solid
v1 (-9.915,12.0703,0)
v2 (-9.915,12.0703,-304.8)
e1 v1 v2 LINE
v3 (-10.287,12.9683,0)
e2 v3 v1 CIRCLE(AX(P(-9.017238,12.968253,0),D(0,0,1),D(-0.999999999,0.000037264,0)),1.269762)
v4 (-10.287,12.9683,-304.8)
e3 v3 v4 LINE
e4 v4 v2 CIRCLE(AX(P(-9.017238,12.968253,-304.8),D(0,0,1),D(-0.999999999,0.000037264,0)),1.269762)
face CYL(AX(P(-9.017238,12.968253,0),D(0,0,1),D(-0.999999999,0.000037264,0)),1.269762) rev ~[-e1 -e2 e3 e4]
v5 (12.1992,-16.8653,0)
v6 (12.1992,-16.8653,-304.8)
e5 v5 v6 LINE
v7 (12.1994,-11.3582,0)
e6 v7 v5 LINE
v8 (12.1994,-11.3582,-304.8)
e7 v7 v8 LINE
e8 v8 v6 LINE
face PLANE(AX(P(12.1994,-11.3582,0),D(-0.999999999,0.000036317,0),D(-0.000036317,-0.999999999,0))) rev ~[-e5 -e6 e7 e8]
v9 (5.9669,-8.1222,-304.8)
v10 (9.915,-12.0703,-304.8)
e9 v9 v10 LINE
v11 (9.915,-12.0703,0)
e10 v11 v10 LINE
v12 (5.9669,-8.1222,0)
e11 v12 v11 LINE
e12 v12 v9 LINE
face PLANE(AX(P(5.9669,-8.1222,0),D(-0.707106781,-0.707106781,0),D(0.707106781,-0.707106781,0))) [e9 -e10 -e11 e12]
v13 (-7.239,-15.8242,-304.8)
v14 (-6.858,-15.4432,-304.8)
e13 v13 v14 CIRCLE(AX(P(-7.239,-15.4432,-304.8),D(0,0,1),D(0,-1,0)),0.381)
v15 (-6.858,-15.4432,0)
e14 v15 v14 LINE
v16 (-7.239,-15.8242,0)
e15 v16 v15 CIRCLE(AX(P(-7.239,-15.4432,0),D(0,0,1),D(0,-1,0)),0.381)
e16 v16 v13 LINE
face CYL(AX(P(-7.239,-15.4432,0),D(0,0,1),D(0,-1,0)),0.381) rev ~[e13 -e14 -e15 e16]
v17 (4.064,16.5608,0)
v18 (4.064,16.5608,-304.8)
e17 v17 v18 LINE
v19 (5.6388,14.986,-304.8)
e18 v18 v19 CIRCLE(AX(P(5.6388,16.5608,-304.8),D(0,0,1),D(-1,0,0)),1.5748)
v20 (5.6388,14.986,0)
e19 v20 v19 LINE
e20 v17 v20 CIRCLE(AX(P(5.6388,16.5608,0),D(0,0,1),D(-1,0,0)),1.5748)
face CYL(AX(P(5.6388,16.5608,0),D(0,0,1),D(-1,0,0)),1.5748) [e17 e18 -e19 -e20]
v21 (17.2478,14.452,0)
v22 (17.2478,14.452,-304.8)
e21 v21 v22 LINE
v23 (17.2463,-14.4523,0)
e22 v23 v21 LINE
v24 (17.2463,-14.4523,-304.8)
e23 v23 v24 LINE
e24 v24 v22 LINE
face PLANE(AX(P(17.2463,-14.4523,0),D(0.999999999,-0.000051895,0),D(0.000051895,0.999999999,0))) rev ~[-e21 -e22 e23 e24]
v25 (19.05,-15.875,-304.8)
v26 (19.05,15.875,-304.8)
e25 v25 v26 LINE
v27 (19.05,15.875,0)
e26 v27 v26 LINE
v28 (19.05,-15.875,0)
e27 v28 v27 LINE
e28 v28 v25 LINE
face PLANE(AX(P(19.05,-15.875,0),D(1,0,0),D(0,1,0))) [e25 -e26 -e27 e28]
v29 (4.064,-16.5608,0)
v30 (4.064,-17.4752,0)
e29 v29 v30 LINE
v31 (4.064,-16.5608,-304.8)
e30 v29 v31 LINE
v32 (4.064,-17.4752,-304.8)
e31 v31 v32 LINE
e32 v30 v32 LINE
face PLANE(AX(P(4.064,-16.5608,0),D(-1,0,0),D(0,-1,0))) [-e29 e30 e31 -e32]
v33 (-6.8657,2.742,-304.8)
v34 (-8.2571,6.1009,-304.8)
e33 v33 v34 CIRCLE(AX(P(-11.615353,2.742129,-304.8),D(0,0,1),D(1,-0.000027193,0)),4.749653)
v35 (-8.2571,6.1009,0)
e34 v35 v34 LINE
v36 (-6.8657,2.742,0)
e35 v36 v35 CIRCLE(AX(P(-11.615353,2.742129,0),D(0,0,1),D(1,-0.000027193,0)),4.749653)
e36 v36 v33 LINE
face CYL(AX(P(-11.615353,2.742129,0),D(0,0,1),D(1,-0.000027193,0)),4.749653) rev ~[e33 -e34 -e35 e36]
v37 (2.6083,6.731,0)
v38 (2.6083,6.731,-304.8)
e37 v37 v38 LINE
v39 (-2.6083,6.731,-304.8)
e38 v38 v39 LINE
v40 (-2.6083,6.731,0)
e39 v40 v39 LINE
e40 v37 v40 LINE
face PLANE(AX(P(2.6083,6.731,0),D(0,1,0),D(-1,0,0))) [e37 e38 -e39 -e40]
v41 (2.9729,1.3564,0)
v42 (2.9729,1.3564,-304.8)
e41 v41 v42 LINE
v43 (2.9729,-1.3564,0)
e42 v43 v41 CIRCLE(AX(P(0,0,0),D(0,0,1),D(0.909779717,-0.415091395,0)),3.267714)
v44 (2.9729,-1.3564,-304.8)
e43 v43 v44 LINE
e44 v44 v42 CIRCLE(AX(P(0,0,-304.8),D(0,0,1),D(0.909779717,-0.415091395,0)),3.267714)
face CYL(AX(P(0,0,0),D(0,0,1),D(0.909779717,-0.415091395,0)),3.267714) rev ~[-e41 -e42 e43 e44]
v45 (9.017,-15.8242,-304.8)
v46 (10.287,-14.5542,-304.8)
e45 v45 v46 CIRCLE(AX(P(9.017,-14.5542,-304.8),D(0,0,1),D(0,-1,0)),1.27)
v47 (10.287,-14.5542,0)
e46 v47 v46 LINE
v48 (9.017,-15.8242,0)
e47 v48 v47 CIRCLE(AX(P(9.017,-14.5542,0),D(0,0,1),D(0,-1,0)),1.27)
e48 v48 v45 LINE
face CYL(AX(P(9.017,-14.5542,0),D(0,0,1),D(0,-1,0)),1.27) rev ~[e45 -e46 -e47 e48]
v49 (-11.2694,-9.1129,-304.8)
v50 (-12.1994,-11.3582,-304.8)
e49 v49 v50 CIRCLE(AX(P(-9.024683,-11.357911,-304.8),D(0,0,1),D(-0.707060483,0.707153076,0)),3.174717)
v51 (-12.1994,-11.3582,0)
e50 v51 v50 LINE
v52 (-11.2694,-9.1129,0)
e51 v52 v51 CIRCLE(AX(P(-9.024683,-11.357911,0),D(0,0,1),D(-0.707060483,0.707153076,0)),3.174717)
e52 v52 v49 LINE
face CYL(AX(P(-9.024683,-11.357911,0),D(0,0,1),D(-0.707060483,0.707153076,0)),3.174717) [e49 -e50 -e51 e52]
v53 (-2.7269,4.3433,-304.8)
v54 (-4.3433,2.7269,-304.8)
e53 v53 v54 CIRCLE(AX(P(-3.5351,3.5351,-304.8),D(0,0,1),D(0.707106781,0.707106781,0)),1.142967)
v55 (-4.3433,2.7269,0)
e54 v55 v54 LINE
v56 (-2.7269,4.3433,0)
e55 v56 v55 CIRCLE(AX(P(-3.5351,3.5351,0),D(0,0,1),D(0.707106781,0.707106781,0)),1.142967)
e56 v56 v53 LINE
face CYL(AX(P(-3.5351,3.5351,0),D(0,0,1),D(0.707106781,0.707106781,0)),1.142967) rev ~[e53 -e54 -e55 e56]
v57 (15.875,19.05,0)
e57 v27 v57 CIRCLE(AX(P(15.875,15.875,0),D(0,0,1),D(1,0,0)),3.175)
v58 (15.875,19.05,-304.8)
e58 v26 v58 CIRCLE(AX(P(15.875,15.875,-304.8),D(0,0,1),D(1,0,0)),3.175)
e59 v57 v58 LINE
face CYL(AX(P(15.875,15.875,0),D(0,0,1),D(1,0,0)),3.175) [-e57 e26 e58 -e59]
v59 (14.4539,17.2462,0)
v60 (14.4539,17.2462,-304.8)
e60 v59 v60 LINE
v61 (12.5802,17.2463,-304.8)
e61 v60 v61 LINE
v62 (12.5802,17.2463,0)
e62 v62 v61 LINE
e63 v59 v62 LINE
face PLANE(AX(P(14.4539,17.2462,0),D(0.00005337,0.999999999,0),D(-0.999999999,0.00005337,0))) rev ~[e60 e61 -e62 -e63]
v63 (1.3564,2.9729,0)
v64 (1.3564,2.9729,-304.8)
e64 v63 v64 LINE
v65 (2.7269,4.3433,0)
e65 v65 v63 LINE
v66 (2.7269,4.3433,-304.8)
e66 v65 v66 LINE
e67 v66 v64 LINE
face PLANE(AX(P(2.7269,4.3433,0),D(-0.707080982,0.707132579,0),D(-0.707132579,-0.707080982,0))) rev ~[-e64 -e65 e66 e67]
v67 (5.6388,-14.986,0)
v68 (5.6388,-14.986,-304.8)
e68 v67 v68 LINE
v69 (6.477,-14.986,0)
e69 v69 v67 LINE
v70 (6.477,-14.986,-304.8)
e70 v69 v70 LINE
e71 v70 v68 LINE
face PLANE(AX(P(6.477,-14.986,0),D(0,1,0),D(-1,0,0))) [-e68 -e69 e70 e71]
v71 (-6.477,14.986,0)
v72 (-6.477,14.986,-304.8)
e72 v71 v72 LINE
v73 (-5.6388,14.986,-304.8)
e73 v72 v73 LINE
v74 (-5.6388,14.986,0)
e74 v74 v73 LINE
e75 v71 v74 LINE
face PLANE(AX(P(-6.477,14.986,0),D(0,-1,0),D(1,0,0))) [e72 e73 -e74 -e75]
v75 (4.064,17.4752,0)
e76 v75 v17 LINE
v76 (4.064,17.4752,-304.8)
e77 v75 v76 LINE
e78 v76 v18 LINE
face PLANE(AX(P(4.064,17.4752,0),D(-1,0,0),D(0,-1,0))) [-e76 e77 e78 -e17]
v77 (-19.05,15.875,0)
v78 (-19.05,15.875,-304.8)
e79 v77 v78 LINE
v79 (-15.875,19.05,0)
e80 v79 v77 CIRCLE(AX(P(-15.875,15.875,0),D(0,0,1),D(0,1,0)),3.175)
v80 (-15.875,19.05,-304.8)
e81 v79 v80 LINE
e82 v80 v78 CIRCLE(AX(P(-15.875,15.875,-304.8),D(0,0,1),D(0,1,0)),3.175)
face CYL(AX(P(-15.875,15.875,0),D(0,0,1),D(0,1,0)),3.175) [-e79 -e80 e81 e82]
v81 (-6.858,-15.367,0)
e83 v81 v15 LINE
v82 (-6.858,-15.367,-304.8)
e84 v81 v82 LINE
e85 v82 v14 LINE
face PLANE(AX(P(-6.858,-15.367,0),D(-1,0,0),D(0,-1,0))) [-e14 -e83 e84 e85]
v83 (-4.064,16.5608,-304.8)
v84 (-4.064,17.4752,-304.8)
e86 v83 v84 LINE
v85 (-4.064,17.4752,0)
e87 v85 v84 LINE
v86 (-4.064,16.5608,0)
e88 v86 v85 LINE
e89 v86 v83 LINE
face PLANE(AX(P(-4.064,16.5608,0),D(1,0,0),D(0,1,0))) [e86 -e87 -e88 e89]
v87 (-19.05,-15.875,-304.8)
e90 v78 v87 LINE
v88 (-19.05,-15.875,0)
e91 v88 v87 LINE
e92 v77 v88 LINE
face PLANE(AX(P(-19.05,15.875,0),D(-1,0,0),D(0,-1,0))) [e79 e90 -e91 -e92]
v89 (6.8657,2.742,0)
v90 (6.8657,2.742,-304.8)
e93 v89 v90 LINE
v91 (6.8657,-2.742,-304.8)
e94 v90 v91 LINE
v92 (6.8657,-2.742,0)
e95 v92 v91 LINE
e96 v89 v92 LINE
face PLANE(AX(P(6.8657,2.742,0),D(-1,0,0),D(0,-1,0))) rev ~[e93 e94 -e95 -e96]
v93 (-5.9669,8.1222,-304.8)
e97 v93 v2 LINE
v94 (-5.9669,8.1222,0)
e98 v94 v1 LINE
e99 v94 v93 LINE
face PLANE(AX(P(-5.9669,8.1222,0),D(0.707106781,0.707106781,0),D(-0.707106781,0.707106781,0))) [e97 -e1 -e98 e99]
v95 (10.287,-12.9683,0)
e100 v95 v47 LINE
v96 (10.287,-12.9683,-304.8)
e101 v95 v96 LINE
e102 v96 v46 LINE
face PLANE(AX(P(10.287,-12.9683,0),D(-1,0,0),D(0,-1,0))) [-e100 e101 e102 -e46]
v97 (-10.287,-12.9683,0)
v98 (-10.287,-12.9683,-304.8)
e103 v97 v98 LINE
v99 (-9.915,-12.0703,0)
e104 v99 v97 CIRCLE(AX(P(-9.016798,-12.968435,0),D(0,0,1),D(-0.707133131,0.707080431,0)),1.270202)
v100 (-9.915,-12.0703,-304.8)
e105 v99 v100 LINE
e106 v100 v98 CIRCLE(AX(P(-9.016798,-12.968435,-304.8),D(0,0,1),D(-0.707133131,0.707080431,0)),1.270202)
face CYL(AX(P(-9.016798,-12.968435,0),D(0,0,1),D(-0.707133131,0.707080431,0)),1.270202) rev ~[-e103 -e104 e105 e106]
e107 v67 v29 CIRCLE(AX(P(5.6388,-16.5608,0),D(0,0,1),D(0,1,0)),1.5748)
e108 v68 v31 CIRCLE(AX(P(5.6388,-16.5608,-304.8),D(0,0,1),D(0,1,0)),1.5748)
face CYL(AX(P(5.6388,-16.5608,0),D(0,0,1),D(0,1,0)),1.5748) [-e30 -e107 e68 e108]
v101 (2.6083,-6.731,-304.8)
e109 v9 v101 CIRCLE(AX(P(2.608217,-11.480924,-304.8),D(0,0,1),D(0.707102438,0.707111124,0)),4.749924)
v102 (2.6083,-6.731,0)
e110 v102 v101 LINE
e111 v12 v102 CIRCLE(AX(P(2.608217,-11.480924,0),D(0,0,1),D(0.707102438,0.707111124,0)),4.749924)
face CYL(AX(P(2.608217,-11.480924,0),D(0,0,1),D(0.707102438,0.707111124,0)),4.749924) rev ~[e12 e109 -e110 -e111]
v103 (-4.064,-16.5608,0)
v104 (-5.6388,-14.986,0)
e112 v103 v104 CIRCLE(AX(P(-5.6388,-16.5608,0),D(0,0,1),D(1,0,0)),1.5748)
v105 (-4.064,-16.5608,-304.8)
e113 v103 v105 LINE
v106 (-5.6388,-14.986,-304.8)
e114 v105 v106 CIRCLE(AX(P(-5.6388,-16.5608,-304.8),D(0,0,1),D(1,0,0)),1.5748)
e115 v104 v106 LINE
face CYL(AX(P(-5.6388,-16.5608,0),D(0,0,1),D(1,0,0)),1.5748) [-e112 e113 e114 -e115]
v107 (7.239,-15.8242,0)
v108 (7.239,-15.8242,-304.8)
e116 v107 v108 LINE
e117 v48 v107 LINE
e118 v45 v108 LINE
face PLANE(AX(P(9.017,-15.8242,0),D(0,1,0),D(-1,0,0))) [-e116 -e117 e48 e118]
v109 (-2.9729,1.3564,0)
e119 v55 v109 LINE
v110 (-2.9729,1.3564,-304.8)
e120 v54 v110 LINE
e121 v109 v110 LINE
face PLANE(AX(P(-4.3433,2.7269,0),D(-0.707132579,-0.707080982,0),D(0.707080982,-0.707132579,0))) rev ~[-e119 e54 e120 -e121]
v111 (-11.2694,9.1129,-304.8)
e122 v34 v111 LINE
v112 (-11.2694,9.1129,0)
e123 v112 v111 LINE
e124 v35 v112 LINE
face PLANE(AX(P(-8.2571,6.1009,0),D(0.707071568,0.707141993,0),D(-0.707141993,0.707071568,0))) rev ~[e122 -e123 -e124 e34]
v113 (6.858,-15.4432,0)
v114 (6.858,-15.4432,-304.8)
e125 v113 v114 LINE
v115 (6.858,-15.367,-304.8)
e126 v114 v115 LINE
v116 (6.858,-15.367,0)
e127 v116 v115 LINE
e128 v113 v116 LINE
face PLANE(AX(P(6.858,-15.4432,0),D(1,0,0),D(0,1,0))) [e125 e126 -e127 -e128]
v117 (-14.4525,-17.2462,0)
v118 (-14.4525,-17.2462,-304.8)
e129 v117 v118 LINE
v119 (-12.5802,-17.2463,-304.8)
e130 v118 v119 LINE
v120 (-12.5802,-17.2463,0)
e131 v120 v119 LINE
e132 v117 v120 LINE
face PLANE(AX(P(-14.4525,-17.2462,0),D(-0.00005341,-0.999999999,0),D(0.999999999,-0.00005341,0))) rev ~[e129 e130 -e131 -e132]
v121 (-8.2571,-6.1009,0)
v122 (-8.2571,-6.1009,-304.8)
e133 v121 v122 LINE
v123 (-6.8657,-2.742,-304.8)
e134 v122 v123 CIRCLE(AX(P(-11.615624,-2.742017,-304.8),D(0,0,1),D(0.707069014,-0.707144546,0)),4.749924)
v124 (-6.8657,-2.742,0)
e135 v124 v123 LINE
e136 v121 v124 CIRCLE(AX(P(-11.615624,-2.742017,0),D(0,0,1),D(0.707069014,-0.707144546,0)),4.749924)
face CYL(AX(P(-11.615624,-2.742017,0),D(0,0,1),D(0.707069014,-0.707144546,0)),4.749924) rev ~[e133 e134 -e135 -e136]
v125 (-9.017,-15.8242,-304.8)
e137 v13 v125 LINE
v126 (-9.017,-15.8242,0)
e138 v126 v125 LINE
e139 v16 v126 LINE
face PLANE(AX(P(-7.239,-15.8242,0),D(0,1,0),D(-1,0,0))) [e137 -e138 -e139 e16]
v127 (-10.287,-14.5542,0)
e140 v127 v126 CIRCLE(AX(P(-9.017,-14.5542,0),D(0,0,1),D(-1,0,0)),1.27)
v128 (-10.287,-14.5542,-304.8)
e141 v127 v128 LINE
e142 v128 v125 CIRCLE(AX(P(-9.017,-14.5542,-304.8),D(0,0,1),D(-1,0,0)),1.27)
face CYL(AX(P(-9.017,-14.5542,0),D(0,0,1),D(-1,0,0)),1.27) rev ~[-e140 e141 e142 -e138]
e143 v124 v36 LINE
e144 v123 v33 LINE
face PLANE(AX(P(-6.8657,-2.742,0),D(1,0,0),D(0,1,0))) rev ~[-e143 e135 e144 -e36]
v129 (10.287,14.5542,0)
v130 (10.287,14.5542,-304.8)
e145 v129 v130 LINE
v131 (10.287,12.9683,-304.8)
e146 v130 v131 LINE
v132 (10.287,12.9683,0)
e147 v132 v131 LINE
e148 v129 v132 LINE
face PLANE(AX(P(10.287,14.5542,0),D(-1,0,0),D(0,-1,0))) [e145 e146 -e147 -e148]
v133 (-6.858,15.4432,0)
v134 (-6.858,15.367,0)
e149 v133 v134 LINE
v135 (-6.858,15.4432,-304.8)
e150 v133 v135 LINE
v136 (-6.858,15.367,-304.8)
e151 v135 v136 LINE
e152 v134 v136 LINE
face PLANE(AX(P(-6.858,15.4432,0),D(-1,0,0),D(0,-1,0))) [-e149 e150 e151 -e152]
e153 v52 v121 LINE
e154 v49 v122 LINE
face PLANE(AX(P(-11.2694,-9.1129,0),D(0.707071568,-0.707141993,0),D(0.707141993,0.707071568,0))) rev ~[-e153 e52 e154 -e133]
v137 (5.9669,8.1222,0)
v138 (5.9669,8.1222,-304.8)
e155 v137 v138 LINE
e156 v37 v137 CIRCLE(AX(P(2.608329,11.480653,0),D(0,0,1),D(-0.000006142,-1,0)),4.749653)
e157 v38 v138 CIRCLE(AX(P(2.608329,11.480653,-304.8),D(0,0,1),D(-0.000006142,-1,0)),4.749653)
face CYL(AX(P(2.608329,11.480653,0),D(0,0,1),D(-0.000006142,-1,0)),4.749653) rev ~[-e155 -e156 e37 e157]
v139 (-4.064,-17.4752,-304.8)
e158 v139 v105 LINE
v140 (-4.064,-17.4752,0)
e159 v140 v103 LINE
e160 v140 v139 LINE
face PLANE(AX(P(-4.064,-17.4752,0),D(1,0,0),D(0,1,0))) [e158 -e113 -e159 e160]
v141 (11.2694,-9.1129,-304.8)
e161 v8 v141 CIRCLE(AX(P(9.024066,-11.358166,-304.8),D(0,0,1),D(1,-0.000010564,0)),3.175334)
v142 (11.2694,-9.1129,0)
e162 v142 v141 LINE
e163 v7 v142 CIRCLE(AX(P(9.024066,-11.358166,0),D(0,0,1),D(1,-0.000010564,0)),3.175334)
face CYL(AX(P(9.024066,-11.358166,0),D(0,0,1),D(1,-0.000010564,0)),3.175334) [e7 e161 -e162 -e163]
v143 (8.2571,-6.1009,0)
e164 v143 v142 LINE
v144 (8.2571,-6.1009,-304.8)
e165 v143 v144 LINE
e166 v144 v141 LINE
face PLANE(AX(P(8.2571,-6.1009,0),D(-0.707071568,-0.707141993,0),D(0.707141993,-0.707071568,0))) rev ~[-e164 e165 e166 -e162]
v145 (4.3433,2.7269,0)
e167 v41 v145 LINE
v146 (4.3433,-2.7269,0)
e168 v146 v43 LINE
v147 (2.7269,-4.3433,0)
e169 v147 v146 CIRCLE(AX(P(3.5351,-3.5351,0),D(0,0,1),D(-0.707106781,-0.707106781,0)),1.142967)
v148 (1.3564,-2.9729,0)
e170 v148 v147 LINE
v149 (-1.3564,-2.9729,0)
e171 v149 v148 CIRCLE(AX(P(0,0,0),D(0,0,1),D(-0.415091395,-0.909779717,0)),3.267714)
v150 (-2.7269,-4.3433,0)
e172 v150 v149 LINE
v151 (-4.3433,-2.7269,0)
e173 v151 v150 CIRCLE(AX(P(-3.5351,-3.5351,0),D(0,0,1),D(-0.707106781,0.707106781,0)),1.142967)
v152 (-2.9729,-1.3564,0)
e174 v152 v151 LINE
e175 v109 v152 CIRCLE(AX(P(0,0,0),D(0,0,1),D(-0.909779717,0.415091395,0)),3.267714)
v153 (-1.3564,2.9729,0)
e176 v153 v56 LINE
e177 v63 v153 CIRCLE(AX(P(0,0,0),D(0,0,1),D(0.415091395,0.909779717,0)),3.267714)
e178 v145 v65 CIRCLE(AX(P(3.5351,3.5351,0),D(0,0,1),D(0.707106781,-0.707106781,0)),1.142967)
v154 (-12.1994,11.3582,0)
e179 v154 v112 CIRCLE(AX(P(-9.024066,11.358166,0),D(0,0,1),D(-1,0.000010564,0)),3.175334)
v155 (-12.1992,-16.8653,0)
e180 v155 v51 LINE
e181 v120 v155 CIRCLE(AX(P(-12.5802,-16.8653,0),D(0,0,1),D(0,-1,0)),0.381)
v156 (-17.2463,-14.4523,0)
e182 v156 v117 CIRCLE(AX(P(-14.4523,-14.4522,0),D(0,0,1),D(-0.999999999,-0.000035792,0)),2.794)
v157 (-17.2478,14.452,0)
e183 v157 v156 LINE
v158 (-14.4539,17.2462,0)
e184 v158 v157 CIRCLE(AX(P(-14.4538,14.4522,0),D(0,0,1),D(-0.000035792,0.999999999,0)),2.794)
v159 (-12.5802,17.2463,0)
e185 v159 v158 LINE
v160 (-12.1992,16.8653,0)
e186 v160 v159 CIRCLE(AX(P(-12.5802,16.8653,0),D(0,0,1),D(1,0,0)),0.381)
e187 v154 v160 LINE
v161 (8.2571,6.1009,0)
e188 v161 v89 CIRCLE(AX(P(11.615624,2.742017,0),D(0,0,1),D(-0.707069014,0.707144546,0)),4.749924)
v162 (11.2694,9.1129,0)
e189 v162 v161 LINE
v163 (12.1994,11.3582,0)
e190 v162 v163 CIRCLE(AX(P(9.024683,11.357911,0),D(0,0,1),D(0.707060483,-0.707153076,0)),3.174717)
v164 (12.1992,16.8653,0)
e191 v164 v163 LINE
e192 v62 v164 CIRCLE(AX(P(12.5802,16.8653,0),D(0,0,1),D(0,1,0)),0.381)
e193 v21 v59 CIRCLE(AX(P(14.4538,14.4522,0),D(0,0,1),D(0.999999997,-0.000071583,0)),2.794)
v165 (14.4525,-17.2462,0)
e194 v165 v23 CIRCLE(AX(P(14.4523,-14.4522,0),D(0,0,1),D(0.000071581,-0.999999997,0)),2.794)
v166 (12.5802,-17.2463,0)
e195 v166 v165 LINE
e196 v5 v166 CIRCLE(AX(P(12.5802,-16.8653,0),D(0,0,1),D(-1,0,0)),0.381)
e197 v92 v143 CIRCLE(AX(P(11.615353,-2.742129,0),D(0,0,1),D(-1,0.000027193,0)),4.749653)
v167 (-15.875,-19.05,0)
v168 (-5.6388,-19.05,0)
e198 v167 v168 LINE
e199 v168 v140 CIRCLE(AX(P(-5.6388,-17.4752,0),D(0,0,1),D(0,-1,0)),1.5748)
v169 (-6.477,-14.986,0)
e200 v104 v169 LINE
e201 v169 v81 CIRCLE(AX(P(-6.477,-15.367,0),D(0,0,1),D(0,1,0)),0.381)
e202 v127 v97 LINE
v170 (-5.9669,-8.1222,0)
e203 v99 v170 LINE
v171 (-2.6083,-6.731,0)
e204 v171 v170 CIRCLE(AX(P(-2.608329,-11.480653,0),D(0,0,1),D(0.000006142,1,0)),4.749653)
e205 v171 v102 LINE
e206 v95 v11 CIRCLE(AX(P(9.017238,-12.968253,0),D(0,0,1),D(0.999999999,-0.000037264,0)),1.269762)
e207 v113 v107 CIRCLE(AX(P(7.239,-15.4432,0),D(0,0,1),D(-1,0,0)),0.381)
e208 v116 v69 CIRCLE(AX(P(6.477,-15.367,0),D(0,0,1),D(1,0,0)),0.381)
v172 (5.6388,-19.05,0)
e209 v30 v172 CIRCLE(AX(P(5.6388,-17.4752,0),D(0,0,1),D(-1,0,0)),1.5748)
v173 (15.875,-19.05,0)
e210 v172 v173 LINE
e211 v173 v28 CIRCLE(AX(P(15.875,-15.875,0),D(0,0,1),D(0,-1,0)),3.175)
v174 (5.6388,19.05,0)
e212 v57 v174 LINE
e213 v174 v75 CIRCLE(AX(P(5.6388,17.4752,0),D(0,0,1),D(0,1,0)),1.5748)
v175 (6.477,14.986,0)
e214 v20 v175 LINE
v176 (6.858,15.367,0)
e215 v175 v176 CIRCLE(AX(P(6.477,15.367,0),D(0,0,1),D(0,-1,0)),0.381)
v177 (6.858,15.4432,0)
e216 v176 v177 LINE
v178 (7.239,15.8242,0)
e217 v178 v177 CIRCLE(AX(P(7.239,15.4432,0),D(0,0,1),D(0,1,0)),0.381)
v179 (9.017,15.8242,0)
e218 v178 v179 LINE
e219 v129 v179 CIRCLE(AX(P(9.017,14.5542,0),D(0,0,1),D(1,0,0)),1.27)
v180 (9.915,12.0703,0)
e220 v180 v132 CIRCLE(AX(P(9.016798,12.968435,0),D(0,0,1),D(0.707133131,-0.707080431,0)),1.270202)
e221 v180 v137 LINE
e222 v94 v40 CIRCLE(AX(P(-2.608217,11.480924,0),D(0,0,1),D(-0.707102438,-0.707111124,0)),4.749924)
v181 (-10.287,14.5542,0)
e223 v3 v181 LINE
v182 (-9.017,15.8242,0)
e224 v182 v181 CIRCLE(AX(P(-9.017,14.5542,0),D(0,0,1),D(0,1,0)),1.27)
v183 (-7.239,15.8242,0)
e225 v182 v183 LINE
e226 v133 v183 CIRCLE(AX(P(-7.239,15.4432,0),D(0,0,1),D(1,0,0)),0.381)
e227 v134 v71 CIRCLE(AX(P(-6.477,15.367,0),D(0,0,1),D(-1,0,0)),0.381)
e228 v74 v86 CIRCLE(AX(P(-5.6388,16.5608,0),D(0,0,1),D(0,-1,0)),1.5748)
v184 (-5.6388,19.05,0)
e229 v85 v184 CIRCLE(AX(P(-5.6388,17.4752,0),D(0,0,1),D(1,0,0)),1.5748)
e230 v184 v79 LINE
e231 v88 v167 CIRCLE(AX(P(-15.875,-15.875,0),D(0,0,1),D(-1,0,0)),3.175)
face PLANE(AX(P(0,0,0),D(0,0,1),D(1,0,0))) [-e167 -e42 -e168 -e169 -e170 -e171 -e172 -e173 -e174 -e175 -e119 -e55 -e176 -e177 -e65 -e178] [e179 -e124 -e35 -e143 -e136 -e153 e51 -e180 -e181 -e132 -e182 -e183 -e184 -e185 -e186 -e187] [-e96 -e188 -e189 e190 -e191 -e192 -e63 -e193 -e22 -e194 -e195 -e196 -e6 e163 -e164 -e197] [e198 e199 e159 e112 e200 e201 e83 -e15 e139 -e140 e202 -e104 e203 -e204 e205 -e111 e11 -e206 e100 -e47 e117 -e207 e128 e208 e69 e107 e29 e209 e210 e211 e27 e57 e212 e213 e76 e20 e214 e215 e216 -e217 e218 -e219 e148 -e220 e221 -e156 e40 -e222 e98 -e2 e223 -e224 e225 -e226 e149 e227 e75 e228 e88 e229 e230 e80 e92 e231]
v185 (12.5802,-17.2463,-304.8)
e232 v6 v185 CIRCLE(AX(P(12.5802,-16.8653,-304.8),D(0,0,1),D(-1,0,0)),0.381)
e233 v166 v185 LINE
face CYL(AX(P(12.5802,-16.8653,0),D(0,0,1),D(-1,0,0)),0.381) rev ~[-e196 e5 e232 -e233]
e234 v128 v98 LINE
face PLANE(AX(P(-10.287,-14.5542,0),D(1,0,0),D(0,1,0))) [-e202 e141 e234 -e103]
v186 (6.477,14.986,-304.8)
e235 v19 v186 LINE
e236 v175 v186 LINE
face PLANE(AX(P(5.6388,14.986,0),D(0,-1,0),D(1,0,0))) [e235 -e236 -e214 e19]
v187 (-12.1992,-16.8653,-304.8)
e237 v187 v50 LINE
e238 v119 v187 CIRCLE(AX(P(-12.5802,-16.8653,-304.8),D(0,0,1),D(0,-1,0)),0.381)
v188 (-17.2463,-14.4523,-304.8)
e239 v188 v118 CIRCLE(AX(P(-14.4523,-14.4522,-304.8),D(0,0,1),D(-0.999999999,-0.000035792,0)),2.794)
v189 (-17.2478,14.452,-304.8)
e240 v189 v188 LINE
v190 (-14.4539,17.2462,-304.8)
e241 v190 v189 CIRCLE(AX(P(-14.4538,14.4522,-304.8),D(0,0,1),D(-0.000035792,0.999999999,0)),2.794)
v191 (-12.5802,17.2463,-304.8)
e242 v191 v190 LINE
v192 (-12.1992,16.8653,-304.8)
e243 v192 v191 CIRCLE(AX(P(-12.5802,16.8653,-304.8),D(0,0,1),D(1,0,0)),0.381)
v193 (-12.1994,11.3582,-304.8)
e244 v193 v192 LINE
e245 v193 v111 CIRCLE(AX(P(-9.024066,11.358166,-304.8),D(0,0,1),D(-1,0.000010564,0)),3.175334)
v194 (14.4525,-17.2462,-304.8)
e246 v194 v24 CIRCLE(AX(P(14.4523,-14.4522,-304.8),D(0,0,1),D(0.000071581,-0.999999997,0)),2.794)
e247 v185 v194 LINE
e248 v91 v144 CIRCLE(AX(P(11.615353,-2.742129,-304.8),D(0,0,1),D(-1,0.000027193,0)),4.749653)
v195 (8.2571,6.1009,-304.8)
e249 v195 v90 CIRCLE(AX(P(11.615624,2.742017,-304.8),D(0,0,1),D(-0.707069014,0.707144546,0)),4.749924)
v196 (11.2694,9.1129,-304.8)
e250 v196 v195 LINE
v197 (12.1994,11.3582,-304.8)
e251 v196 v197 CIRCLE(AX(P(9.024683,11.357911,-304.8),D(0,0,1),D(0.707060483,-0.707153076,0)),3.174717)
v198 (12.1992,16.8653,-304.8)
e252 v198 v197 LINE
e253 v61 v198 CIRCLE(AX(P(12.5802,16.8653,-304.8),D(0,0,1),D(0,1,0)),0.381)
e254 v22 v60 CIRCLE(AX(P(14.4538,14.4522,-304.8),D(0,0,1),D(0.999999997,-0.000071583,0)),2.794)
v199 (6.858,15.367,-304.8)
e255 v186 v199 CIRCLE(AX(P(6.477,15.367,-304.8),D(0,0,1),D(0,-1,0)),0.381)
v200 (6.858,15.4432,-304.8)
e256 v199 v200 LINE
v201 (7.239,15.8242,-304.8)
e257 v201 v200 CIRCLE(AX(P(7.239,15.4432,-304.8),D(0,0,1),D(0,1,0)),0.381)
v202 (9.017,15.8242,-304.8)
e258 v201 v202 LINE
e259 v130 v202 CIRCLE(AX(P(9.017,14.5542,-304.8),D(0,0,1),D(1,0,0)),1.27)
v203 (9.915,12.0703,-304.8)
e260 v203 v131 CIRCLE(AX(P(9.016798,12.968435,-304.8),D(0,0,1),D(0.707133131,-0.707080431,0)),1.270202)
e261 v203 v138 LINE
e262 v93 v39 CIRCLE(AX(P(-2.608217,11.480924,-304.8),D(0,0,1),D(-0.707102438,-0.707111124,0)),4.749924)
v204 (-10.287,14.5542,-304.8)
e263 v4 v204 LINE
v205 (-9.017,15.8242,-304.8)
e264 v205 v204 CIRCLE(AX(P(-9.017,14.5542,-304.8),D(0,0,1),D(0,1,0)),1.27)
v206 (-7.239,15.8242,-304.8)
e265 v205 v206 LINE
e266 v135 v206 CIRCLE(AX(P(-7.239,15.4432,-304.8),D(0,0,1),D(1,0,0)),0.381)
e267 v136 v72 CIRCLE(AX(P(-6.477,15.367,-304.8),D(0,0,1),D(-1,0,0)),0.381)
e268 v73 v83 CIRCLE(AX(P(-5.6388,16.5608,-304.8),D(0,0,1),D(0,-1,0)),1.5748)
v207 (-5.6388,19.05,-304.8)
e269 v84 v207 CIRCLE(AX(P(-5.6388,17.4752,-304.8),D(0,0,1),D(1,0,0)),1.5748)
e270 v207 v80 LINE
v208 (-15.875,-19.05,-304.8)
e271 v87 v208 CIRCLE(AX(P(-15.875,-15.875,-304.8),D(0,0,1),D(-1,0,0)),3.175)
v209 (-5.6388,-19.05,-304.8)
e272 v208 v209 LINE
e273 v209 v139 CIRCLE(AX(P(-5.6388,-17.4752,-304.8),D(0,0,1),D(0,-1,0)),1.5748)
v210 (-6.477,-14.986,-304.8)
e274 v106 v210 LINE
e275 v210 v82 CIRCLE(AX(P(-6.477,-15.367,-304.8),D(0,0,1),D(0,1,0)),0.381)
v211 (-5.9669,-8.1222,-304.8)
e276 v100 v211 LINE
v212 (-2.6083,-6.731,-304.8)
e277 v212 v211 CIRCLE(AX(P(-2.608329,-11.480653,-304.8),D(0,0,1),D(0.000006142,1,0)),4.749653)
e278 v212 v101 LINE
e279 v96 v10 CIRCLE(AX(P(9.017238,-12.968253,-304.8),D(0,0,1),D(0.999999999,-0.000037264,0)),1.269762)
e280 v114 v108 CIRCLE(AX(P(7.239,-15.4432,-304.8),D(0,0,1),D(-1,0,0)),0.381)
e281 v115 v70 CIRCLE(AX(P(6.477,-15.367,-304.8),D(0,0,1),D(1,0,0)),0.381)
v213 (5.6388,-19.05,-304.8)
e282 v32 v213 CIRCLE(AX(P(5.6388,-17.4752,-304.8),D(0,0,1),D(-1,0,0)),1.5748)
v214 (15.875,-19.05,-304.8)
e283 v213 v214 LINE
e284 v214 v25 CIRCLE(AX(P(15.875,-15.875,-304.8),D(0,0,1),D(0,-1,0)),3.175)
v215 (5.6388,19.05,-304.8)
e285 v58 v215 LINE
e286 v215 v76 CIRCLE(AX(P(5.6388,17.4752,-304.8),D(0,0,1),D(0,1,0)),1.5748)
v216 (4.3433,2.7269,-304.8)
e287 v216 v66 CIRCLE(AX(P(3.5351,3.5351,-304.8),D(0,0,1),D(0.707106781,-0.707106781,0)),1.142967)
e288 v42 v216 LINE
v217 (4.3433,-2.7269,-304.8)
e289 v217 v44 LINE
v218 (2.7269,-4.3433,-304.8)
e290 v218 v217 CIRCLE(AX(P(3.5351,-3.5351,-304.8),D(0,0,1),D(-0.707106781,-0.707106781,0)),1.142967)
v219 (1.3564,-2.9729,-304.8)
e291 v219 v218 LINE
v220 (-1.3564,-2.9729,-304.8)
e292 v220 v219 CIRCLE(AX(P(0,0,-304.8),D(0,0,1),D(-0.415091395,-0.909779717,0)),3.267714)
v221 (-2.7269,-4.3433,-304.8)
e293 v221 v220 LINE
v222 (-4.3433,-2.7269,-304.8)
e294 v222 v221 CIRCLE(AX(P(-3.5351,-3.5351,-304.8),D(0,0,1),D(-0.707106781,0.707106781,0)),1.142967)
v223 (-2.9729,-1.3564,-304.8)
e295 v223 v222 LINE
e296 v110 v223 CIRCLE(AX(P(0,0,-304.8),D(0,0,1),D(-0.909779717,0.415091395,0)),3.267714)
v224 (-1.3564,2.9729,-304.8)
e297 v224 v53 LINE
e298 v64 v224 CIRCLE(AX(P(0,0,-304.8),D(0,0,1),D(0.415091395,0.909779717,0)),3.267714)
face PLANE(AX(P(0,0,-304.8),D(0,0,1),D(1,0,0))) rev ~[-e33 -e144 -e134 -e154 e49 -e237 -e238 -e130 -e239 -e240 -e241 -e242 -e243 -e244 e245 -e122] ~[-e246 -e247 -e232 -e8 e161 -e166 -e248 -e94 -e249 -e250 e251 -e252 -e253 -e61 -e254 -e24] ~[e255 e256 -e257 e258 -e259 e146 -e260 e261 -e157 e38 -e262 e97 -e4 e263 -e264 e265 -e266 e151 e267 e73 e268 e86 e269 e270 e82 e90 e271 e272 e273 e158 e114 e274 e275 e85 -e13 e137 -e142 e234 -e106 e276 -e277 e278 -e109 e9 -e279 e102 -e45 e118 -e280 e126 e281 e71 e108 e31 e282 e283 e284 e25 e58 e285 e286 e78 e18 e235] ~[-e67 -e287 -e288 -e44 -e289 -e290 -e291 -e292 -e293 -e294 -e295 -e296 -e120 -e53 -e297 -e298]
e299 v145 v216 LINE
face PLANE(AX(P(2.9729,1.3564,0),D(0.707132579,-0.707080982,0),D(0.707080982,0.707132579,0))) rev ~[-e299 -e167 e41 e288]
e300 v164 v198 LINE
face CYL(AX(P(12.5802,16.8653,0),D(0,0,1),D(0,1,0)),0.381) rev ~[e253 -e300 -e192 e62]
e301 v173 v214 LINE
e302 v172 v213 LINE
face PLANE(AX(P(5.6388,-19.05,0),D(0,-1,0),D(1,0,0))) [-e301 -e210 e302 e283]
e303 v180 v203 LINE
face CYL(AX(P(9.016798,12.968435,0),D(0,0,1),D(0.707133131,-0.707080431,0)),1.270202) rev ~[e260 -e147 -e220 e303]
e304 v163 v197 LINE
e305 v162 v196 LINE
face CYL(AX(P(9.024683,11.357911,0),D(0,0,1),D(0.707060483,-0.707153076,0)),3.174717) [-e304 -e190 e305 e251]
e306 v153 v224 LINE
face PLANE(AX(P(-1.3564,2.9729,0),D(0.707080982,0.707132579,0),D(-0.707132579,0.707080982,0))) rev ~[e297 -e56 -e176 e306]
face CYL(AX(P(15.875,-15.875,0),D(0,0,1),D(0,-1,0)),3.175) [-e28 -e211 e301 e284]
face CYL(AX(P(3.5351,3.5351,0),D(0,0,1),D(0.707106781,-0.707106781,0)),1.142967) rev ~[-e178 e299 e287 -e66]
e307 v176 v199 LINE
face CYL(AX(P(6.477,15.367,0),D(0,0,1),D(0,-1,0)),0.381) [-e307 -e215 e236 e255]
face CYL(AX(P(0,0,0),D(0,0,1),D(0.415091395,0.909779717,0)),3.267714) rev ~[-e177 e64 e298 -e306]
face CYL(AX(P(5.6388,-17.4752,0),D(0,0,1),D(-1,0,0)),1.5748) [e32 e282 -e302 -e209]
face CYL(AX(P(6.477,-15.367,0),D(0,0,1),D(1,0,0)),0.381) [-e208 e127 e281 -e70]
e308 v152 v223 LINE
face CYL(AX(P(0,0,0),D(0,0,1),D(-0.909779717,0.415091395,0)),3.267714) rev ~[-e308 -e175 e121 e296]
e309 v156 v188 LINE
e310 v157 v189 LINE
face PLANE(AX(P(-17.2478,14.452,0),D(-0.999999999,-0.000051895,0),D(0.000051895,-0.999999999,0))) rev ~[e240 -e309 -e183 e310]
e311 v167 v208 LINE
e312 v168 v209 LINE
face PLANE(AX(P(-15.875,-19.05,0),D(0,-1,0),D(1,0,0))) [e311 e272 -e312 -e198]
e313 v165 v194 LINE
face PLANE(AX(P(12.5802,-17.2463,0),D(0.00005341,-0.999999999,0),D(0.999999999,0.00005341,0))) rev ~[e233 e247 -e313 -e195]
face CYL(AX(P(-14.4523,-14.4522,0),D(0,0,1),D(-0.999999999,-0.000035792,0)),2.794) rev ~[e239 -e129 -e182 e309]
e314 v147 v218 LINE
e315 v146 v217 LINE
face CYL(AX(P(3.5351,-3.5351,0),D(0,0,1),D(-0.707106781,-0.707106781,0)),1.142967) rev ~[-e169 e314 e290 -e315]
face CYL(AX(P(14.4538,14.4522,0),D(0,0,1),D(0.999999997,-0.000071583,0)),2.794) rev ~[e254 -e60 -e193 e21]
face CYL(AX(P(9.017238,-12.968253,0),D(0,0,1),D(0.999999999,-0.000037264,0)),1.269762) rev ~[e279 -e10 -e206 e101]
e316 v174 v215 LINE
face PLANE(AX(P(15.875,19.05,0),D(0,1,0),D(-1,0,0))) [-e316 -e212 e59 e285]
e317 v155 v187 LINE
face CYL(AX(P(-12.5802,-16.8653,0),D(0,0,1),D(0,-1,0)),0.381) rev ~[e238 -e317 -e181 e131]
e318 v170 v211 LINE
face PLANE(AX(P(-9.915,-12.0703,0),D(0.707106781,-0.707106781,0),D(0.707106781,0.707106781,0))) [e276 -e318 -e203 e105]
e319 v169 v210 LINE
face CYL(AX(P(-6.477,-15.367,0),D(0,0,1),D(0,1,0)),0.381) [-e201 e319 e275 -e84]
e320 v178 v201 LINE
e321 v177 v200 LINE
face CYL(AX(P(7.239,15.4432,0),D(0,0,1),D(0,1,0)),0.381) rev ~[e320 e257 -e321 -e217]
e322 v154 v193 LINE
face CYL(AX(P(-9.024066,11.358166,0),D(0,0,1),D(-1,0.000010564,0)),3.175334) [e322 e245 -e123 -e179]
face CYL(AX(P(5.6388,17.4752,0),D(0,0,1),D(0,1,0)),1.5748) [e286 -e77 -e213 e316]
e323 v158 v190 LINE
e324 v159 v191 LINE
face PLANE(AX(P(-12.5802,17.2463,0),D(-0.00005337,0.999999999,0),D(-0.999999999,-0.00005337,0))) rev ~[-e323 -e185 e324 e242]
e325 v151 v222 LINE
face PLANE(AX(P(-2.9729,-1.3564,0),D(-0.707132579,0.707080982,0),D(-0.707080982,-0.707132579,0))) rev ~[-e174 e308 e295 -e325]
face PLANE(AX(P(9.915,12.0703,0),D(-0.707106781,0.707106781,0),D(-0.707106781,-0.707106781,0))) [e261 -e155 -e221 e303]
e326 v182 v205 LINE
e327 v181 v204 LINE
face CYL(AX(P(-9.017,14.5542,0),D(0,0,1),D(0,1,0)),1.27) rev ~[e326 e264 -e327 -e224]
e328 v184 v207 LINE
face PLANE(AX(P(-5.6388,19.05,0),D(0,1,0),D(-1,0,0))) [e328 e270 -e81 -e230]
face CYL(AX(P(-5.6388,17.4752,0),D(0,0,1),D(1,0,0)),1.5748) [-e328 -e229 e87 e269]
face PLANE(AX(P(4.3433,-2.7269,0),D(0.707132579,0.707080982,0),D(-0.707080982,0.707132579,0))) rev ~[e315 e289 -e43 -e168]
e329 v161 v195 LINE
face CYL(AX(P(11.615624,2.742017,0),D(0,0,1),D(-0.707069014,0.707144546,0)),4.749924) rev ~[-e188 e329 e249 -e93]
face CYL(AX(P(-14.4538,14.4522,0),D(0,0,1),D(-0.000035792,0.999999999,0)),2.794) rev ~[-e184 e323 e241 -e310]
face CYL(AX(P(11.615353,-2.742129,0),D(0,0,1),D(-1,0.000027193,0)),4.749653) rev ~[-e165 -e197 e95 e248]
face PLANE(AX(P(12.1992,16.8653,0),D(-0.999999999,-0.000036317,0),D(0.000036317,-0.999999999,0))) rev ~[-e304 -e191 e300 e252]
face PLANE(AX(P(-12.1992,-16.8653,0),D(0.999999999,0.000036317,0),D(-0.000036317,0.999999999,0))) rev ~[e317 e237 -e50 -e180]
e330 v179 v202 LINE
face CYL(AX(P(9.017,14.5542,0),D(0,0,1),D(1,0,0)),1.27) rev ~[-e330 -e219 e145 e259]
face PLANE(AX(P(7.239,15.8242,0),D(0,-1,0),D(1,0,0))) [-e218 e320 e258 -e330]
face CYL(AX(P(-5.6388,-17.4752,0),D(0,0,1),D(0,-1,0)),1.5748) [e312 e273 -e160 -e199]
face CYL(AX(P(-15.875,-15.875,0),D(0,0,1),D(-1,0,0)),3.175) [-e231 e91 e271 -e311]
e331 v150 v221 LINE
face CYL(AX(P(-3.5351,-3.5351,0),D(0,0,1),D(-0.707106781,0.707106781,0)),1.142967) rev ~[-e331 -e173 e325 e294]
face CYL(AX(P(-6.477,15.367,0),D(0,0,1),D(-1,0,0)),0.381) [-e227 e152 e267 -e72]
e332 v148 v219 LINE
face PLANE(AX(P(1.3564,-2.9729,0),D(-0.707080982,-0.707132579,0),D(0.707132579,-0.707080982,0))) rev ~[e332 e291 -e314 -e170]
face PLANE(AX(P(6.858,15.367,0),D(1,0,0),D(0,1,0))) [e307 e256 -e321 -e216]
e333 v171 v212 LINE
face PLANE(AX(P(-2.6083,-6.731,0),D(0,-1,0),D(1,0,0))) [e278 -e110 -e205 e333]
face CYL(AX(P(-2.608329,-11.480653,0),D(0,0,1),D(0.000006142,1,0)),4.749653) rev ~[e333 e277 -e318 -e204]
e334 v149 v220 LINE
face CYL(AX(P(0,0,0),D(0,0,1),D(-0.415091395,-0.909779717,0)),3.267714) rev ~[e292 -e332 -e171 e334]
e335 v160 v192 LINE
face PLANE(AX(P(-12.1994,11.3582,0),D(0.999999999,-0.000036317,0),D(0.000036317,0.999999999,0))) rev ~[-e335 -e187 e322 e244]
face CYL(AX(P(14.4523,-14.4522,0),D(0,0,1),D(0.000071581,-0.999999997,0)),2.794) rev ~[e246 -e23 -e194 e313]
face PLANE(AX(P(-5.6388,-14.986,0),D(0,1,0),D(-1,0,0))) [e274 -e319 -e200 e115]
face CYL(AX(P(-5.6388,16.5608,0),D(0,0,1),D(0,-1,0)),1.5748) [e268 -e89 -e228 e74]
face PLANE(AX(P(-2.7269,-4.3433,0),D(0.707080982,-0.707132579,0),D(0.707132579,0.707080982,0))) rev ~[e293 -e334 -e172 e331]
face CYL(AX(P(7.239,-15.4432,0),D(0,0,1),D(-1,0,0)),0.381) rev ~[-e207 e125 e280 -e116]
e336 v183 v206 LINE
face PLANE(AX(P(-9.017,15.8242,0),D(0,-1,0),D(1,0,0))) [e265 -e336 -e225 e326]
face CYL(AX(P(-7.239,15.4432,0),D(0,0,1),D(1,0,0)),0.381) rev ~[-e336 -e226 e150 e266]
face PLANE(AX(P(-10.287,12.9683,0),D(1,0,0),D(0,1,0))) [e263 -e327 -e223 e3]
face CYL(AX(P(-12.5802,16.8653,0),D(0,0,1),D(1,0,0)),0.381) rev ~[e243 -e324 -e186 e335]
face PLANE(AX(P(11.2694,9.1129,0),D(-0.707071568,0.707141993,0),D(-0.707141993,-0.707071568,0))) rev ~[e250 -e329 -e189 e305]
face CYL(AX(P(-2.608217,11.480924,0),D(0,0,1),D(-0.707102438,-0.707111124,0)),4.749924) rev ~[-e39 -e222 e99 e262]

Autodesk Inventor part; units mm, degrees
ref_plane "YZ Plane" through (0, 0, 0) normal (1, 0, 0) x (0, 1, 0)
ref_plane "XZ Plane" through (0, 0, 0) normal (0, 1, 0) x (-1, 0, 0)
ref_plane "XY Plane" through (0, 0, 0) normal (0, 0, 1) x (1, 0, 0)
sketch "Sketch1" plane through (0, 0, 0) normal (0, 0, 1) x (1, 0, 0)
  arc A0 (17.2478, 14.452) -> (14.4539, 17.2462) centre (14.4538, 14.4522) ccw
  line L0 (17.2463, -14.4523) -> (17.2478, 14.452)
  arc A1 (14.4525, -17.2462) -> (17.2463, -14.4523) centre (14.4523, -14.4522) ccw
  line L1 (12.5802, -17.2463) -> (14.4525, -17.2462)
  arc A2 (12.1992, -16.8653) -> (12.5802, -17.2463) centre (12.5802, -16.8653) ccw
  line L2 (12.1994, -11.3582) -> (12.1992, -16.8653)
  arc A3 (12.1994, -11.3582) -> (11.2694, -9.1129) centre (9.0244, -11.3581) ccw
  line L3 (8.2571, -6.1009) -> (11.2694, -9.1129)
  arc A4 (6.8657, -2.742) -> (8.2571, -6.1009) centre (11.6155, -2.7421) ccw
  line L4 (6.8657, 2.742) -> (6.8657, -2.742)
  arc A5 (8.2571, 6.1009) -> (6.8657, 2.742) centre (11.6155, 2.7421) ccw
  line L5 (11.2694, 9.1129) -> (8.2571, 6.1009)
  arc A6 (11.2694, 9.1129) -> (12.1994, 11.3582) centre (9.0244, 11.3581) ccw
  line L6 (12.1992, 16.8653) -> (12.1994, 11.3582)
  arc A7 (12.5802, 17.2463) -> (12.1992, 16.8653) centre (12.5802, 16.8653) ccw
  line L7 (14.4539, 17.2462) -> (12.5802, 17.2463)
  arc A8 (-17.2463, -14.4523) -> (-14.4525, -17.2462) centre (-14.4523, -14.4522) ccw
  line L8 (-17.2478, 14.452) -> (-17.2463, -14.4523)
  arc A9 (-14.4539, 17.2462) -> (-17.2478, 14.452) centre (-14.4538, 14.4522) ccw
  line L9 (-12.5802, 17.2463) -> (-14.4539, 17.2462)
  arc A10 (-12.1992, 16.8653) -> (-12.5802, 17.2463) centre (-12.5802, 16.8653) ccw
  line L10 (-12.1994, 11.3582) -> (-12.1992, 16.8653)
  arc A11 (-12.1994, 11.3582) -> (-11.2694, 9.1129) centre (-9.0244, 11.3581) ccw
  line L11 (-8.2571, 6.1009) -> (-11.2694, 9.1129)
  arc A12 (-6.8657, 2.742) -> (-8.2571, 6.1009) centre (-11.6155, 2.7421) ccw
  line L12 (-6.8657, -2.742) -> (-6.8657, 2.742)
  arc A13 (-8.2571, -6.1009) -> (-6.8657, -2.742) centre (-11.6155, -2.7421) ccw
  line L13 (-11.2694, -9.1129) -> (-8.2571, -6.1009)
  arc A14 (-11.2694, -9.1129) -> (-12.1994, -11.3582) centre (-9.0244, -11.3581) ccw
  line L14 (-12.1992, -16.8653) -> (-12.1994, -11.3582)
  arc A15 (-12.5802, -17.2463) -> (-12.1992, -16.8653) centre (-12.5802, -16.8653) ccw
  line L15 (-14.4525, -17.2462) -> (-12.5802, -17.2463)
  arc A16 (2.7269, -4.3433) -> (4.3433, -2.7269) centre (3.5351, -3.5351) ccw
  line L16 (1.3564, -2.9729) -> (2.7269, -4.3433)
  arc A17 (-1.3564, -2.9729) -> (1.3564, -2.9729) centre (0, 0) ccw
  line L17 (-2.7269, -4.3433) -> (-1.3564, -2.9729)
  arc A18 (-4.3433, -2.7269) -> (-2.7269, -4.3433) centre (-3.5351, -3.5351) ccw
  line L18 (-2.9729, -1.3564) -> (-4.3433, -2.7269)
  arc A19 (-2.9729, 1.3564) -> (-2.9729, -1.3564) centre (0, 0) ccw
  line L19 (-4.3433, 2.7269) -> (-2.9729, 1.3564)
  arc A20 (-2.7269, 4.3433) -> (-4.3433, 2.7269) centre (-3.5351, 3.5351) ccw
  line L20 (-1.3564, 2.9729) -> (-2.7269, 4.3433)
  arc A21 (1.3564, 2.9729) -> (-1.3564, 2.9729) centre (0, 0) ccw
  line L21 (2.7269, 4.3433) -> (1.3564, 2.9729)
  arc A22 (4.3433, 2.7269) -> (2.7269, 4.3433) centre (3.5351, 3.5351) ccw
  line L22 (2.9729, 1.3564) -> (4.3433, 2.7269)
  arc A23 (2.9729, -1.3564) -> (2.9729, 1.3564) centre (0, 0) ccw
  line L23 (4.3433, -2.7269) -> (2.9729, -1.3564)
  arc A24 (19.05, 15.875) -> (15.875, 19.05) centre (15.875, 15.875) ccw
  line L24 (15.875, 19.05) -> (5.6388, 19.05)
  arc A25 (5.6388, 19.05) -> (4.064, 17.4752) centre (5.6388, 17.4752) ccw
  line L25 (4.064, 17.4752) -> (4.064, 16.5608)
  arc A26 (4.064, 16.5608) -> (5.6388, 14.986) centre (5.6388, 16.5608) ccw
  line L26 (5.6388, 14.986) -> (6.477, 14.986)
  arc A27 (6.477, 14.986) -> (6.858, 15.367) centre (6.477, 15.367) ccw
  line L27 (6.858, 15.367) -> (6.858, 15.4432)
  arc A28 (7.239, 15.8242) -> (6.858, 15.4432) centre (7.239, 15.4432) ccw
  line L28 (7.239, 15.8242) -> (9.017, 15.8242)
  arc A29 (10.287, 14.5542) -> (9.017, 15.8242) centre (9.017, 14.5542) ccw
  line L29 (10.287, 14.5542) -> (10.287, 12.9683)
  arc A30 (9.915, 12.0703) -> (10.287, 12.9683) centre (9.017, 12.9683) ccw
  line L30 (9.915, 12.0703) -> (5.9669, 8.1222)
  arc A31 (2.6083, 6.731) -> (5.9669, 8.1222) centre (2.6083, 11.4808) ccw
  line L31 (2.6083, 6.731) -> (-2.6083, 6.731)
  arc A32 (-5.9669, 8.1222) -> (-2.6083, 6.731) centre (-2.6083, 11.4808) ccw
  line L32 (-5.9669, 8.1222) -> (-9.915, 12.0703)
  arc A33 (-10.287, 12.9683) -> (-9.915, 12.0703) centre (-9.017, 12.9683) ccw
  line L33 (-10.287, 12.9683) -> (-10.287, 14.5542)
  arc A34 (-9.017, 15.8242) -> (-10.287, 14.5542) centre (-9.017, 14.5542) ccw
  line L34 (-9.017, 15.8242) -> (-7.239, 15.8242)
  arc A35 (-6.858, 15.4432) -> (-7.239, 15.8242) centre (-7.239, 15.4432) ccw
  line L35 (-6.858, 15.4432) -> (-6.858, 15.367)
  arc A36 (-6.858, 15.367) -> (-6.477, 14.986) centre (-6.477, 15.367) ccw
  line L36 (-6.477, 14.986) -> (-5.6388, 14.986)
  arc A37 (-5.6388, 14.986) -> (-4.064, 16.5608) centre (-5.6388, 16.5608) ccw
  line L37 (-4.064, 16.5608) -> (-4.064, 17.4752)
  arc A38 (-4.064, 17.4752) -> (-5.6388, 19.05) centre (-5.6388, 17.4752) ccw
  line L38 (-5.6388, 19.05) -> (-15.875, 19.05)
  arc A39 (-15.875, 19.05) -> (-19.05, 15.875) centre (-15.875, 15.875) ccw
  line L39 (-19.05, 15.875) -> (-19.05, -15.875)
  arc A40 (-19.05, -15.875) -> (-15.875, -19.05) centre (-15.875, -15.875) ccw
  line L40 (-15.875, -19.05) -> (-5.6388, -19.05)
  arc A41 (-5.6388, -19.05) -> (-4.064, -17.4752) centre (-5.6388, -17.4752) ccw
  line L41 (-4.064, -17.4752) -> (-4.064, -16.5608)
  arc A42 (-4.064, -16.5608) -> (-5.6388, -14.986) centre (-5.6388, -16.5608) ccw
  line L42 (-5.6388, -14.986) -> (-6.477, -14.986)
  arc A43 (-6.477, -14.986) -> (-6.858, -15.367) centre (-6.477, -15.367) ccw
  line L43 (-6.858, -15.367) -> (-6.858, -15.4432)
  arc A44 (-7.239, -15.8242) -> (-6.858, -15.4432) centre (-7.239, -15.4432) ccw
  line L44 (-7.239, -15.8242) -> (-9.017, -15.8242)
  arc A45 (-10.287, -14.5542) -> (-9.017, -15.8242) centre (-9.017, -14.5542) ccw
  line L45 (-10.287, -14.5542) -> (-10.287, -12.9683)
  arc A46 (-9.915, -12.0703) -> (-10.287, -12.9683) centre (-9.017, -12.9683) ccw
  line L46 (-9.915, -12.0703) -> (-5.9669, -8.1222)
  arc A47 (-2.6083, -6.731) -> (-5.9669, -8.1222) centre (-2.6083, -11.4808) ccw
  line L47 (-2.6083, -6.731) -> (2.6083, -6.731)
  arc A48 (5.9669, -8.1222) -> (2.6083, -6.731) centre (2.6083, -11.4808) ccw
  line L48 (5.9669, -8.1222) -> (9.915, -12.0703)
  arc A49 (10.287, -12.9683) -> (9.915, -12.0703) centre (9.017, -12.9683) ccw
  line L49 (10.287, -12.9683) -> (10.287, -14.5542)
  arc A50 (9.017, -15.8242) -> (10.287, -14.5542) centre (9.017, -14.5542) ccw
  line L50 (9.017, -15.8242) -> (7.239, -15.8242)
  arc A51 (6.858, -15.4432) -> (7.239, -15.8242) centre (7.239, -15.4432) ccw
  line L51 (6.858, -15.4432) -> (6.858, -15.367)
  arc A52 (6.858, -15.367) -> (6.477, -14.986) centre (6.477, -15.367) ccw
  line L52 (6.477, -14.986) -> (5.6388, -14.986)
  arc A53 (5.6388, -14.986) -> (4.064, -16.5608) centre (5.6388, -16.5608) ccw
  line L53 (4.064, -16.5608) -> (4.064, -17.4752)
  arc A54 (4.064, -17.4752) -> (5.6388, -19.05) centre (5.6388, -17.4752) ccw
  line L54 (5.6388, -19.05) -> (15.875, -19.05)
  arc A55 (15.875, -19.05) -> (19.05, -15.875) centre (15.875, -15.875) ccw
  line L55 (19.05, -15.875) -> (19.05, 15.875)
extrude "Extrusion1" add sketch "Sketch1" against normal blind 304.8
properties part number "1504-LS"
